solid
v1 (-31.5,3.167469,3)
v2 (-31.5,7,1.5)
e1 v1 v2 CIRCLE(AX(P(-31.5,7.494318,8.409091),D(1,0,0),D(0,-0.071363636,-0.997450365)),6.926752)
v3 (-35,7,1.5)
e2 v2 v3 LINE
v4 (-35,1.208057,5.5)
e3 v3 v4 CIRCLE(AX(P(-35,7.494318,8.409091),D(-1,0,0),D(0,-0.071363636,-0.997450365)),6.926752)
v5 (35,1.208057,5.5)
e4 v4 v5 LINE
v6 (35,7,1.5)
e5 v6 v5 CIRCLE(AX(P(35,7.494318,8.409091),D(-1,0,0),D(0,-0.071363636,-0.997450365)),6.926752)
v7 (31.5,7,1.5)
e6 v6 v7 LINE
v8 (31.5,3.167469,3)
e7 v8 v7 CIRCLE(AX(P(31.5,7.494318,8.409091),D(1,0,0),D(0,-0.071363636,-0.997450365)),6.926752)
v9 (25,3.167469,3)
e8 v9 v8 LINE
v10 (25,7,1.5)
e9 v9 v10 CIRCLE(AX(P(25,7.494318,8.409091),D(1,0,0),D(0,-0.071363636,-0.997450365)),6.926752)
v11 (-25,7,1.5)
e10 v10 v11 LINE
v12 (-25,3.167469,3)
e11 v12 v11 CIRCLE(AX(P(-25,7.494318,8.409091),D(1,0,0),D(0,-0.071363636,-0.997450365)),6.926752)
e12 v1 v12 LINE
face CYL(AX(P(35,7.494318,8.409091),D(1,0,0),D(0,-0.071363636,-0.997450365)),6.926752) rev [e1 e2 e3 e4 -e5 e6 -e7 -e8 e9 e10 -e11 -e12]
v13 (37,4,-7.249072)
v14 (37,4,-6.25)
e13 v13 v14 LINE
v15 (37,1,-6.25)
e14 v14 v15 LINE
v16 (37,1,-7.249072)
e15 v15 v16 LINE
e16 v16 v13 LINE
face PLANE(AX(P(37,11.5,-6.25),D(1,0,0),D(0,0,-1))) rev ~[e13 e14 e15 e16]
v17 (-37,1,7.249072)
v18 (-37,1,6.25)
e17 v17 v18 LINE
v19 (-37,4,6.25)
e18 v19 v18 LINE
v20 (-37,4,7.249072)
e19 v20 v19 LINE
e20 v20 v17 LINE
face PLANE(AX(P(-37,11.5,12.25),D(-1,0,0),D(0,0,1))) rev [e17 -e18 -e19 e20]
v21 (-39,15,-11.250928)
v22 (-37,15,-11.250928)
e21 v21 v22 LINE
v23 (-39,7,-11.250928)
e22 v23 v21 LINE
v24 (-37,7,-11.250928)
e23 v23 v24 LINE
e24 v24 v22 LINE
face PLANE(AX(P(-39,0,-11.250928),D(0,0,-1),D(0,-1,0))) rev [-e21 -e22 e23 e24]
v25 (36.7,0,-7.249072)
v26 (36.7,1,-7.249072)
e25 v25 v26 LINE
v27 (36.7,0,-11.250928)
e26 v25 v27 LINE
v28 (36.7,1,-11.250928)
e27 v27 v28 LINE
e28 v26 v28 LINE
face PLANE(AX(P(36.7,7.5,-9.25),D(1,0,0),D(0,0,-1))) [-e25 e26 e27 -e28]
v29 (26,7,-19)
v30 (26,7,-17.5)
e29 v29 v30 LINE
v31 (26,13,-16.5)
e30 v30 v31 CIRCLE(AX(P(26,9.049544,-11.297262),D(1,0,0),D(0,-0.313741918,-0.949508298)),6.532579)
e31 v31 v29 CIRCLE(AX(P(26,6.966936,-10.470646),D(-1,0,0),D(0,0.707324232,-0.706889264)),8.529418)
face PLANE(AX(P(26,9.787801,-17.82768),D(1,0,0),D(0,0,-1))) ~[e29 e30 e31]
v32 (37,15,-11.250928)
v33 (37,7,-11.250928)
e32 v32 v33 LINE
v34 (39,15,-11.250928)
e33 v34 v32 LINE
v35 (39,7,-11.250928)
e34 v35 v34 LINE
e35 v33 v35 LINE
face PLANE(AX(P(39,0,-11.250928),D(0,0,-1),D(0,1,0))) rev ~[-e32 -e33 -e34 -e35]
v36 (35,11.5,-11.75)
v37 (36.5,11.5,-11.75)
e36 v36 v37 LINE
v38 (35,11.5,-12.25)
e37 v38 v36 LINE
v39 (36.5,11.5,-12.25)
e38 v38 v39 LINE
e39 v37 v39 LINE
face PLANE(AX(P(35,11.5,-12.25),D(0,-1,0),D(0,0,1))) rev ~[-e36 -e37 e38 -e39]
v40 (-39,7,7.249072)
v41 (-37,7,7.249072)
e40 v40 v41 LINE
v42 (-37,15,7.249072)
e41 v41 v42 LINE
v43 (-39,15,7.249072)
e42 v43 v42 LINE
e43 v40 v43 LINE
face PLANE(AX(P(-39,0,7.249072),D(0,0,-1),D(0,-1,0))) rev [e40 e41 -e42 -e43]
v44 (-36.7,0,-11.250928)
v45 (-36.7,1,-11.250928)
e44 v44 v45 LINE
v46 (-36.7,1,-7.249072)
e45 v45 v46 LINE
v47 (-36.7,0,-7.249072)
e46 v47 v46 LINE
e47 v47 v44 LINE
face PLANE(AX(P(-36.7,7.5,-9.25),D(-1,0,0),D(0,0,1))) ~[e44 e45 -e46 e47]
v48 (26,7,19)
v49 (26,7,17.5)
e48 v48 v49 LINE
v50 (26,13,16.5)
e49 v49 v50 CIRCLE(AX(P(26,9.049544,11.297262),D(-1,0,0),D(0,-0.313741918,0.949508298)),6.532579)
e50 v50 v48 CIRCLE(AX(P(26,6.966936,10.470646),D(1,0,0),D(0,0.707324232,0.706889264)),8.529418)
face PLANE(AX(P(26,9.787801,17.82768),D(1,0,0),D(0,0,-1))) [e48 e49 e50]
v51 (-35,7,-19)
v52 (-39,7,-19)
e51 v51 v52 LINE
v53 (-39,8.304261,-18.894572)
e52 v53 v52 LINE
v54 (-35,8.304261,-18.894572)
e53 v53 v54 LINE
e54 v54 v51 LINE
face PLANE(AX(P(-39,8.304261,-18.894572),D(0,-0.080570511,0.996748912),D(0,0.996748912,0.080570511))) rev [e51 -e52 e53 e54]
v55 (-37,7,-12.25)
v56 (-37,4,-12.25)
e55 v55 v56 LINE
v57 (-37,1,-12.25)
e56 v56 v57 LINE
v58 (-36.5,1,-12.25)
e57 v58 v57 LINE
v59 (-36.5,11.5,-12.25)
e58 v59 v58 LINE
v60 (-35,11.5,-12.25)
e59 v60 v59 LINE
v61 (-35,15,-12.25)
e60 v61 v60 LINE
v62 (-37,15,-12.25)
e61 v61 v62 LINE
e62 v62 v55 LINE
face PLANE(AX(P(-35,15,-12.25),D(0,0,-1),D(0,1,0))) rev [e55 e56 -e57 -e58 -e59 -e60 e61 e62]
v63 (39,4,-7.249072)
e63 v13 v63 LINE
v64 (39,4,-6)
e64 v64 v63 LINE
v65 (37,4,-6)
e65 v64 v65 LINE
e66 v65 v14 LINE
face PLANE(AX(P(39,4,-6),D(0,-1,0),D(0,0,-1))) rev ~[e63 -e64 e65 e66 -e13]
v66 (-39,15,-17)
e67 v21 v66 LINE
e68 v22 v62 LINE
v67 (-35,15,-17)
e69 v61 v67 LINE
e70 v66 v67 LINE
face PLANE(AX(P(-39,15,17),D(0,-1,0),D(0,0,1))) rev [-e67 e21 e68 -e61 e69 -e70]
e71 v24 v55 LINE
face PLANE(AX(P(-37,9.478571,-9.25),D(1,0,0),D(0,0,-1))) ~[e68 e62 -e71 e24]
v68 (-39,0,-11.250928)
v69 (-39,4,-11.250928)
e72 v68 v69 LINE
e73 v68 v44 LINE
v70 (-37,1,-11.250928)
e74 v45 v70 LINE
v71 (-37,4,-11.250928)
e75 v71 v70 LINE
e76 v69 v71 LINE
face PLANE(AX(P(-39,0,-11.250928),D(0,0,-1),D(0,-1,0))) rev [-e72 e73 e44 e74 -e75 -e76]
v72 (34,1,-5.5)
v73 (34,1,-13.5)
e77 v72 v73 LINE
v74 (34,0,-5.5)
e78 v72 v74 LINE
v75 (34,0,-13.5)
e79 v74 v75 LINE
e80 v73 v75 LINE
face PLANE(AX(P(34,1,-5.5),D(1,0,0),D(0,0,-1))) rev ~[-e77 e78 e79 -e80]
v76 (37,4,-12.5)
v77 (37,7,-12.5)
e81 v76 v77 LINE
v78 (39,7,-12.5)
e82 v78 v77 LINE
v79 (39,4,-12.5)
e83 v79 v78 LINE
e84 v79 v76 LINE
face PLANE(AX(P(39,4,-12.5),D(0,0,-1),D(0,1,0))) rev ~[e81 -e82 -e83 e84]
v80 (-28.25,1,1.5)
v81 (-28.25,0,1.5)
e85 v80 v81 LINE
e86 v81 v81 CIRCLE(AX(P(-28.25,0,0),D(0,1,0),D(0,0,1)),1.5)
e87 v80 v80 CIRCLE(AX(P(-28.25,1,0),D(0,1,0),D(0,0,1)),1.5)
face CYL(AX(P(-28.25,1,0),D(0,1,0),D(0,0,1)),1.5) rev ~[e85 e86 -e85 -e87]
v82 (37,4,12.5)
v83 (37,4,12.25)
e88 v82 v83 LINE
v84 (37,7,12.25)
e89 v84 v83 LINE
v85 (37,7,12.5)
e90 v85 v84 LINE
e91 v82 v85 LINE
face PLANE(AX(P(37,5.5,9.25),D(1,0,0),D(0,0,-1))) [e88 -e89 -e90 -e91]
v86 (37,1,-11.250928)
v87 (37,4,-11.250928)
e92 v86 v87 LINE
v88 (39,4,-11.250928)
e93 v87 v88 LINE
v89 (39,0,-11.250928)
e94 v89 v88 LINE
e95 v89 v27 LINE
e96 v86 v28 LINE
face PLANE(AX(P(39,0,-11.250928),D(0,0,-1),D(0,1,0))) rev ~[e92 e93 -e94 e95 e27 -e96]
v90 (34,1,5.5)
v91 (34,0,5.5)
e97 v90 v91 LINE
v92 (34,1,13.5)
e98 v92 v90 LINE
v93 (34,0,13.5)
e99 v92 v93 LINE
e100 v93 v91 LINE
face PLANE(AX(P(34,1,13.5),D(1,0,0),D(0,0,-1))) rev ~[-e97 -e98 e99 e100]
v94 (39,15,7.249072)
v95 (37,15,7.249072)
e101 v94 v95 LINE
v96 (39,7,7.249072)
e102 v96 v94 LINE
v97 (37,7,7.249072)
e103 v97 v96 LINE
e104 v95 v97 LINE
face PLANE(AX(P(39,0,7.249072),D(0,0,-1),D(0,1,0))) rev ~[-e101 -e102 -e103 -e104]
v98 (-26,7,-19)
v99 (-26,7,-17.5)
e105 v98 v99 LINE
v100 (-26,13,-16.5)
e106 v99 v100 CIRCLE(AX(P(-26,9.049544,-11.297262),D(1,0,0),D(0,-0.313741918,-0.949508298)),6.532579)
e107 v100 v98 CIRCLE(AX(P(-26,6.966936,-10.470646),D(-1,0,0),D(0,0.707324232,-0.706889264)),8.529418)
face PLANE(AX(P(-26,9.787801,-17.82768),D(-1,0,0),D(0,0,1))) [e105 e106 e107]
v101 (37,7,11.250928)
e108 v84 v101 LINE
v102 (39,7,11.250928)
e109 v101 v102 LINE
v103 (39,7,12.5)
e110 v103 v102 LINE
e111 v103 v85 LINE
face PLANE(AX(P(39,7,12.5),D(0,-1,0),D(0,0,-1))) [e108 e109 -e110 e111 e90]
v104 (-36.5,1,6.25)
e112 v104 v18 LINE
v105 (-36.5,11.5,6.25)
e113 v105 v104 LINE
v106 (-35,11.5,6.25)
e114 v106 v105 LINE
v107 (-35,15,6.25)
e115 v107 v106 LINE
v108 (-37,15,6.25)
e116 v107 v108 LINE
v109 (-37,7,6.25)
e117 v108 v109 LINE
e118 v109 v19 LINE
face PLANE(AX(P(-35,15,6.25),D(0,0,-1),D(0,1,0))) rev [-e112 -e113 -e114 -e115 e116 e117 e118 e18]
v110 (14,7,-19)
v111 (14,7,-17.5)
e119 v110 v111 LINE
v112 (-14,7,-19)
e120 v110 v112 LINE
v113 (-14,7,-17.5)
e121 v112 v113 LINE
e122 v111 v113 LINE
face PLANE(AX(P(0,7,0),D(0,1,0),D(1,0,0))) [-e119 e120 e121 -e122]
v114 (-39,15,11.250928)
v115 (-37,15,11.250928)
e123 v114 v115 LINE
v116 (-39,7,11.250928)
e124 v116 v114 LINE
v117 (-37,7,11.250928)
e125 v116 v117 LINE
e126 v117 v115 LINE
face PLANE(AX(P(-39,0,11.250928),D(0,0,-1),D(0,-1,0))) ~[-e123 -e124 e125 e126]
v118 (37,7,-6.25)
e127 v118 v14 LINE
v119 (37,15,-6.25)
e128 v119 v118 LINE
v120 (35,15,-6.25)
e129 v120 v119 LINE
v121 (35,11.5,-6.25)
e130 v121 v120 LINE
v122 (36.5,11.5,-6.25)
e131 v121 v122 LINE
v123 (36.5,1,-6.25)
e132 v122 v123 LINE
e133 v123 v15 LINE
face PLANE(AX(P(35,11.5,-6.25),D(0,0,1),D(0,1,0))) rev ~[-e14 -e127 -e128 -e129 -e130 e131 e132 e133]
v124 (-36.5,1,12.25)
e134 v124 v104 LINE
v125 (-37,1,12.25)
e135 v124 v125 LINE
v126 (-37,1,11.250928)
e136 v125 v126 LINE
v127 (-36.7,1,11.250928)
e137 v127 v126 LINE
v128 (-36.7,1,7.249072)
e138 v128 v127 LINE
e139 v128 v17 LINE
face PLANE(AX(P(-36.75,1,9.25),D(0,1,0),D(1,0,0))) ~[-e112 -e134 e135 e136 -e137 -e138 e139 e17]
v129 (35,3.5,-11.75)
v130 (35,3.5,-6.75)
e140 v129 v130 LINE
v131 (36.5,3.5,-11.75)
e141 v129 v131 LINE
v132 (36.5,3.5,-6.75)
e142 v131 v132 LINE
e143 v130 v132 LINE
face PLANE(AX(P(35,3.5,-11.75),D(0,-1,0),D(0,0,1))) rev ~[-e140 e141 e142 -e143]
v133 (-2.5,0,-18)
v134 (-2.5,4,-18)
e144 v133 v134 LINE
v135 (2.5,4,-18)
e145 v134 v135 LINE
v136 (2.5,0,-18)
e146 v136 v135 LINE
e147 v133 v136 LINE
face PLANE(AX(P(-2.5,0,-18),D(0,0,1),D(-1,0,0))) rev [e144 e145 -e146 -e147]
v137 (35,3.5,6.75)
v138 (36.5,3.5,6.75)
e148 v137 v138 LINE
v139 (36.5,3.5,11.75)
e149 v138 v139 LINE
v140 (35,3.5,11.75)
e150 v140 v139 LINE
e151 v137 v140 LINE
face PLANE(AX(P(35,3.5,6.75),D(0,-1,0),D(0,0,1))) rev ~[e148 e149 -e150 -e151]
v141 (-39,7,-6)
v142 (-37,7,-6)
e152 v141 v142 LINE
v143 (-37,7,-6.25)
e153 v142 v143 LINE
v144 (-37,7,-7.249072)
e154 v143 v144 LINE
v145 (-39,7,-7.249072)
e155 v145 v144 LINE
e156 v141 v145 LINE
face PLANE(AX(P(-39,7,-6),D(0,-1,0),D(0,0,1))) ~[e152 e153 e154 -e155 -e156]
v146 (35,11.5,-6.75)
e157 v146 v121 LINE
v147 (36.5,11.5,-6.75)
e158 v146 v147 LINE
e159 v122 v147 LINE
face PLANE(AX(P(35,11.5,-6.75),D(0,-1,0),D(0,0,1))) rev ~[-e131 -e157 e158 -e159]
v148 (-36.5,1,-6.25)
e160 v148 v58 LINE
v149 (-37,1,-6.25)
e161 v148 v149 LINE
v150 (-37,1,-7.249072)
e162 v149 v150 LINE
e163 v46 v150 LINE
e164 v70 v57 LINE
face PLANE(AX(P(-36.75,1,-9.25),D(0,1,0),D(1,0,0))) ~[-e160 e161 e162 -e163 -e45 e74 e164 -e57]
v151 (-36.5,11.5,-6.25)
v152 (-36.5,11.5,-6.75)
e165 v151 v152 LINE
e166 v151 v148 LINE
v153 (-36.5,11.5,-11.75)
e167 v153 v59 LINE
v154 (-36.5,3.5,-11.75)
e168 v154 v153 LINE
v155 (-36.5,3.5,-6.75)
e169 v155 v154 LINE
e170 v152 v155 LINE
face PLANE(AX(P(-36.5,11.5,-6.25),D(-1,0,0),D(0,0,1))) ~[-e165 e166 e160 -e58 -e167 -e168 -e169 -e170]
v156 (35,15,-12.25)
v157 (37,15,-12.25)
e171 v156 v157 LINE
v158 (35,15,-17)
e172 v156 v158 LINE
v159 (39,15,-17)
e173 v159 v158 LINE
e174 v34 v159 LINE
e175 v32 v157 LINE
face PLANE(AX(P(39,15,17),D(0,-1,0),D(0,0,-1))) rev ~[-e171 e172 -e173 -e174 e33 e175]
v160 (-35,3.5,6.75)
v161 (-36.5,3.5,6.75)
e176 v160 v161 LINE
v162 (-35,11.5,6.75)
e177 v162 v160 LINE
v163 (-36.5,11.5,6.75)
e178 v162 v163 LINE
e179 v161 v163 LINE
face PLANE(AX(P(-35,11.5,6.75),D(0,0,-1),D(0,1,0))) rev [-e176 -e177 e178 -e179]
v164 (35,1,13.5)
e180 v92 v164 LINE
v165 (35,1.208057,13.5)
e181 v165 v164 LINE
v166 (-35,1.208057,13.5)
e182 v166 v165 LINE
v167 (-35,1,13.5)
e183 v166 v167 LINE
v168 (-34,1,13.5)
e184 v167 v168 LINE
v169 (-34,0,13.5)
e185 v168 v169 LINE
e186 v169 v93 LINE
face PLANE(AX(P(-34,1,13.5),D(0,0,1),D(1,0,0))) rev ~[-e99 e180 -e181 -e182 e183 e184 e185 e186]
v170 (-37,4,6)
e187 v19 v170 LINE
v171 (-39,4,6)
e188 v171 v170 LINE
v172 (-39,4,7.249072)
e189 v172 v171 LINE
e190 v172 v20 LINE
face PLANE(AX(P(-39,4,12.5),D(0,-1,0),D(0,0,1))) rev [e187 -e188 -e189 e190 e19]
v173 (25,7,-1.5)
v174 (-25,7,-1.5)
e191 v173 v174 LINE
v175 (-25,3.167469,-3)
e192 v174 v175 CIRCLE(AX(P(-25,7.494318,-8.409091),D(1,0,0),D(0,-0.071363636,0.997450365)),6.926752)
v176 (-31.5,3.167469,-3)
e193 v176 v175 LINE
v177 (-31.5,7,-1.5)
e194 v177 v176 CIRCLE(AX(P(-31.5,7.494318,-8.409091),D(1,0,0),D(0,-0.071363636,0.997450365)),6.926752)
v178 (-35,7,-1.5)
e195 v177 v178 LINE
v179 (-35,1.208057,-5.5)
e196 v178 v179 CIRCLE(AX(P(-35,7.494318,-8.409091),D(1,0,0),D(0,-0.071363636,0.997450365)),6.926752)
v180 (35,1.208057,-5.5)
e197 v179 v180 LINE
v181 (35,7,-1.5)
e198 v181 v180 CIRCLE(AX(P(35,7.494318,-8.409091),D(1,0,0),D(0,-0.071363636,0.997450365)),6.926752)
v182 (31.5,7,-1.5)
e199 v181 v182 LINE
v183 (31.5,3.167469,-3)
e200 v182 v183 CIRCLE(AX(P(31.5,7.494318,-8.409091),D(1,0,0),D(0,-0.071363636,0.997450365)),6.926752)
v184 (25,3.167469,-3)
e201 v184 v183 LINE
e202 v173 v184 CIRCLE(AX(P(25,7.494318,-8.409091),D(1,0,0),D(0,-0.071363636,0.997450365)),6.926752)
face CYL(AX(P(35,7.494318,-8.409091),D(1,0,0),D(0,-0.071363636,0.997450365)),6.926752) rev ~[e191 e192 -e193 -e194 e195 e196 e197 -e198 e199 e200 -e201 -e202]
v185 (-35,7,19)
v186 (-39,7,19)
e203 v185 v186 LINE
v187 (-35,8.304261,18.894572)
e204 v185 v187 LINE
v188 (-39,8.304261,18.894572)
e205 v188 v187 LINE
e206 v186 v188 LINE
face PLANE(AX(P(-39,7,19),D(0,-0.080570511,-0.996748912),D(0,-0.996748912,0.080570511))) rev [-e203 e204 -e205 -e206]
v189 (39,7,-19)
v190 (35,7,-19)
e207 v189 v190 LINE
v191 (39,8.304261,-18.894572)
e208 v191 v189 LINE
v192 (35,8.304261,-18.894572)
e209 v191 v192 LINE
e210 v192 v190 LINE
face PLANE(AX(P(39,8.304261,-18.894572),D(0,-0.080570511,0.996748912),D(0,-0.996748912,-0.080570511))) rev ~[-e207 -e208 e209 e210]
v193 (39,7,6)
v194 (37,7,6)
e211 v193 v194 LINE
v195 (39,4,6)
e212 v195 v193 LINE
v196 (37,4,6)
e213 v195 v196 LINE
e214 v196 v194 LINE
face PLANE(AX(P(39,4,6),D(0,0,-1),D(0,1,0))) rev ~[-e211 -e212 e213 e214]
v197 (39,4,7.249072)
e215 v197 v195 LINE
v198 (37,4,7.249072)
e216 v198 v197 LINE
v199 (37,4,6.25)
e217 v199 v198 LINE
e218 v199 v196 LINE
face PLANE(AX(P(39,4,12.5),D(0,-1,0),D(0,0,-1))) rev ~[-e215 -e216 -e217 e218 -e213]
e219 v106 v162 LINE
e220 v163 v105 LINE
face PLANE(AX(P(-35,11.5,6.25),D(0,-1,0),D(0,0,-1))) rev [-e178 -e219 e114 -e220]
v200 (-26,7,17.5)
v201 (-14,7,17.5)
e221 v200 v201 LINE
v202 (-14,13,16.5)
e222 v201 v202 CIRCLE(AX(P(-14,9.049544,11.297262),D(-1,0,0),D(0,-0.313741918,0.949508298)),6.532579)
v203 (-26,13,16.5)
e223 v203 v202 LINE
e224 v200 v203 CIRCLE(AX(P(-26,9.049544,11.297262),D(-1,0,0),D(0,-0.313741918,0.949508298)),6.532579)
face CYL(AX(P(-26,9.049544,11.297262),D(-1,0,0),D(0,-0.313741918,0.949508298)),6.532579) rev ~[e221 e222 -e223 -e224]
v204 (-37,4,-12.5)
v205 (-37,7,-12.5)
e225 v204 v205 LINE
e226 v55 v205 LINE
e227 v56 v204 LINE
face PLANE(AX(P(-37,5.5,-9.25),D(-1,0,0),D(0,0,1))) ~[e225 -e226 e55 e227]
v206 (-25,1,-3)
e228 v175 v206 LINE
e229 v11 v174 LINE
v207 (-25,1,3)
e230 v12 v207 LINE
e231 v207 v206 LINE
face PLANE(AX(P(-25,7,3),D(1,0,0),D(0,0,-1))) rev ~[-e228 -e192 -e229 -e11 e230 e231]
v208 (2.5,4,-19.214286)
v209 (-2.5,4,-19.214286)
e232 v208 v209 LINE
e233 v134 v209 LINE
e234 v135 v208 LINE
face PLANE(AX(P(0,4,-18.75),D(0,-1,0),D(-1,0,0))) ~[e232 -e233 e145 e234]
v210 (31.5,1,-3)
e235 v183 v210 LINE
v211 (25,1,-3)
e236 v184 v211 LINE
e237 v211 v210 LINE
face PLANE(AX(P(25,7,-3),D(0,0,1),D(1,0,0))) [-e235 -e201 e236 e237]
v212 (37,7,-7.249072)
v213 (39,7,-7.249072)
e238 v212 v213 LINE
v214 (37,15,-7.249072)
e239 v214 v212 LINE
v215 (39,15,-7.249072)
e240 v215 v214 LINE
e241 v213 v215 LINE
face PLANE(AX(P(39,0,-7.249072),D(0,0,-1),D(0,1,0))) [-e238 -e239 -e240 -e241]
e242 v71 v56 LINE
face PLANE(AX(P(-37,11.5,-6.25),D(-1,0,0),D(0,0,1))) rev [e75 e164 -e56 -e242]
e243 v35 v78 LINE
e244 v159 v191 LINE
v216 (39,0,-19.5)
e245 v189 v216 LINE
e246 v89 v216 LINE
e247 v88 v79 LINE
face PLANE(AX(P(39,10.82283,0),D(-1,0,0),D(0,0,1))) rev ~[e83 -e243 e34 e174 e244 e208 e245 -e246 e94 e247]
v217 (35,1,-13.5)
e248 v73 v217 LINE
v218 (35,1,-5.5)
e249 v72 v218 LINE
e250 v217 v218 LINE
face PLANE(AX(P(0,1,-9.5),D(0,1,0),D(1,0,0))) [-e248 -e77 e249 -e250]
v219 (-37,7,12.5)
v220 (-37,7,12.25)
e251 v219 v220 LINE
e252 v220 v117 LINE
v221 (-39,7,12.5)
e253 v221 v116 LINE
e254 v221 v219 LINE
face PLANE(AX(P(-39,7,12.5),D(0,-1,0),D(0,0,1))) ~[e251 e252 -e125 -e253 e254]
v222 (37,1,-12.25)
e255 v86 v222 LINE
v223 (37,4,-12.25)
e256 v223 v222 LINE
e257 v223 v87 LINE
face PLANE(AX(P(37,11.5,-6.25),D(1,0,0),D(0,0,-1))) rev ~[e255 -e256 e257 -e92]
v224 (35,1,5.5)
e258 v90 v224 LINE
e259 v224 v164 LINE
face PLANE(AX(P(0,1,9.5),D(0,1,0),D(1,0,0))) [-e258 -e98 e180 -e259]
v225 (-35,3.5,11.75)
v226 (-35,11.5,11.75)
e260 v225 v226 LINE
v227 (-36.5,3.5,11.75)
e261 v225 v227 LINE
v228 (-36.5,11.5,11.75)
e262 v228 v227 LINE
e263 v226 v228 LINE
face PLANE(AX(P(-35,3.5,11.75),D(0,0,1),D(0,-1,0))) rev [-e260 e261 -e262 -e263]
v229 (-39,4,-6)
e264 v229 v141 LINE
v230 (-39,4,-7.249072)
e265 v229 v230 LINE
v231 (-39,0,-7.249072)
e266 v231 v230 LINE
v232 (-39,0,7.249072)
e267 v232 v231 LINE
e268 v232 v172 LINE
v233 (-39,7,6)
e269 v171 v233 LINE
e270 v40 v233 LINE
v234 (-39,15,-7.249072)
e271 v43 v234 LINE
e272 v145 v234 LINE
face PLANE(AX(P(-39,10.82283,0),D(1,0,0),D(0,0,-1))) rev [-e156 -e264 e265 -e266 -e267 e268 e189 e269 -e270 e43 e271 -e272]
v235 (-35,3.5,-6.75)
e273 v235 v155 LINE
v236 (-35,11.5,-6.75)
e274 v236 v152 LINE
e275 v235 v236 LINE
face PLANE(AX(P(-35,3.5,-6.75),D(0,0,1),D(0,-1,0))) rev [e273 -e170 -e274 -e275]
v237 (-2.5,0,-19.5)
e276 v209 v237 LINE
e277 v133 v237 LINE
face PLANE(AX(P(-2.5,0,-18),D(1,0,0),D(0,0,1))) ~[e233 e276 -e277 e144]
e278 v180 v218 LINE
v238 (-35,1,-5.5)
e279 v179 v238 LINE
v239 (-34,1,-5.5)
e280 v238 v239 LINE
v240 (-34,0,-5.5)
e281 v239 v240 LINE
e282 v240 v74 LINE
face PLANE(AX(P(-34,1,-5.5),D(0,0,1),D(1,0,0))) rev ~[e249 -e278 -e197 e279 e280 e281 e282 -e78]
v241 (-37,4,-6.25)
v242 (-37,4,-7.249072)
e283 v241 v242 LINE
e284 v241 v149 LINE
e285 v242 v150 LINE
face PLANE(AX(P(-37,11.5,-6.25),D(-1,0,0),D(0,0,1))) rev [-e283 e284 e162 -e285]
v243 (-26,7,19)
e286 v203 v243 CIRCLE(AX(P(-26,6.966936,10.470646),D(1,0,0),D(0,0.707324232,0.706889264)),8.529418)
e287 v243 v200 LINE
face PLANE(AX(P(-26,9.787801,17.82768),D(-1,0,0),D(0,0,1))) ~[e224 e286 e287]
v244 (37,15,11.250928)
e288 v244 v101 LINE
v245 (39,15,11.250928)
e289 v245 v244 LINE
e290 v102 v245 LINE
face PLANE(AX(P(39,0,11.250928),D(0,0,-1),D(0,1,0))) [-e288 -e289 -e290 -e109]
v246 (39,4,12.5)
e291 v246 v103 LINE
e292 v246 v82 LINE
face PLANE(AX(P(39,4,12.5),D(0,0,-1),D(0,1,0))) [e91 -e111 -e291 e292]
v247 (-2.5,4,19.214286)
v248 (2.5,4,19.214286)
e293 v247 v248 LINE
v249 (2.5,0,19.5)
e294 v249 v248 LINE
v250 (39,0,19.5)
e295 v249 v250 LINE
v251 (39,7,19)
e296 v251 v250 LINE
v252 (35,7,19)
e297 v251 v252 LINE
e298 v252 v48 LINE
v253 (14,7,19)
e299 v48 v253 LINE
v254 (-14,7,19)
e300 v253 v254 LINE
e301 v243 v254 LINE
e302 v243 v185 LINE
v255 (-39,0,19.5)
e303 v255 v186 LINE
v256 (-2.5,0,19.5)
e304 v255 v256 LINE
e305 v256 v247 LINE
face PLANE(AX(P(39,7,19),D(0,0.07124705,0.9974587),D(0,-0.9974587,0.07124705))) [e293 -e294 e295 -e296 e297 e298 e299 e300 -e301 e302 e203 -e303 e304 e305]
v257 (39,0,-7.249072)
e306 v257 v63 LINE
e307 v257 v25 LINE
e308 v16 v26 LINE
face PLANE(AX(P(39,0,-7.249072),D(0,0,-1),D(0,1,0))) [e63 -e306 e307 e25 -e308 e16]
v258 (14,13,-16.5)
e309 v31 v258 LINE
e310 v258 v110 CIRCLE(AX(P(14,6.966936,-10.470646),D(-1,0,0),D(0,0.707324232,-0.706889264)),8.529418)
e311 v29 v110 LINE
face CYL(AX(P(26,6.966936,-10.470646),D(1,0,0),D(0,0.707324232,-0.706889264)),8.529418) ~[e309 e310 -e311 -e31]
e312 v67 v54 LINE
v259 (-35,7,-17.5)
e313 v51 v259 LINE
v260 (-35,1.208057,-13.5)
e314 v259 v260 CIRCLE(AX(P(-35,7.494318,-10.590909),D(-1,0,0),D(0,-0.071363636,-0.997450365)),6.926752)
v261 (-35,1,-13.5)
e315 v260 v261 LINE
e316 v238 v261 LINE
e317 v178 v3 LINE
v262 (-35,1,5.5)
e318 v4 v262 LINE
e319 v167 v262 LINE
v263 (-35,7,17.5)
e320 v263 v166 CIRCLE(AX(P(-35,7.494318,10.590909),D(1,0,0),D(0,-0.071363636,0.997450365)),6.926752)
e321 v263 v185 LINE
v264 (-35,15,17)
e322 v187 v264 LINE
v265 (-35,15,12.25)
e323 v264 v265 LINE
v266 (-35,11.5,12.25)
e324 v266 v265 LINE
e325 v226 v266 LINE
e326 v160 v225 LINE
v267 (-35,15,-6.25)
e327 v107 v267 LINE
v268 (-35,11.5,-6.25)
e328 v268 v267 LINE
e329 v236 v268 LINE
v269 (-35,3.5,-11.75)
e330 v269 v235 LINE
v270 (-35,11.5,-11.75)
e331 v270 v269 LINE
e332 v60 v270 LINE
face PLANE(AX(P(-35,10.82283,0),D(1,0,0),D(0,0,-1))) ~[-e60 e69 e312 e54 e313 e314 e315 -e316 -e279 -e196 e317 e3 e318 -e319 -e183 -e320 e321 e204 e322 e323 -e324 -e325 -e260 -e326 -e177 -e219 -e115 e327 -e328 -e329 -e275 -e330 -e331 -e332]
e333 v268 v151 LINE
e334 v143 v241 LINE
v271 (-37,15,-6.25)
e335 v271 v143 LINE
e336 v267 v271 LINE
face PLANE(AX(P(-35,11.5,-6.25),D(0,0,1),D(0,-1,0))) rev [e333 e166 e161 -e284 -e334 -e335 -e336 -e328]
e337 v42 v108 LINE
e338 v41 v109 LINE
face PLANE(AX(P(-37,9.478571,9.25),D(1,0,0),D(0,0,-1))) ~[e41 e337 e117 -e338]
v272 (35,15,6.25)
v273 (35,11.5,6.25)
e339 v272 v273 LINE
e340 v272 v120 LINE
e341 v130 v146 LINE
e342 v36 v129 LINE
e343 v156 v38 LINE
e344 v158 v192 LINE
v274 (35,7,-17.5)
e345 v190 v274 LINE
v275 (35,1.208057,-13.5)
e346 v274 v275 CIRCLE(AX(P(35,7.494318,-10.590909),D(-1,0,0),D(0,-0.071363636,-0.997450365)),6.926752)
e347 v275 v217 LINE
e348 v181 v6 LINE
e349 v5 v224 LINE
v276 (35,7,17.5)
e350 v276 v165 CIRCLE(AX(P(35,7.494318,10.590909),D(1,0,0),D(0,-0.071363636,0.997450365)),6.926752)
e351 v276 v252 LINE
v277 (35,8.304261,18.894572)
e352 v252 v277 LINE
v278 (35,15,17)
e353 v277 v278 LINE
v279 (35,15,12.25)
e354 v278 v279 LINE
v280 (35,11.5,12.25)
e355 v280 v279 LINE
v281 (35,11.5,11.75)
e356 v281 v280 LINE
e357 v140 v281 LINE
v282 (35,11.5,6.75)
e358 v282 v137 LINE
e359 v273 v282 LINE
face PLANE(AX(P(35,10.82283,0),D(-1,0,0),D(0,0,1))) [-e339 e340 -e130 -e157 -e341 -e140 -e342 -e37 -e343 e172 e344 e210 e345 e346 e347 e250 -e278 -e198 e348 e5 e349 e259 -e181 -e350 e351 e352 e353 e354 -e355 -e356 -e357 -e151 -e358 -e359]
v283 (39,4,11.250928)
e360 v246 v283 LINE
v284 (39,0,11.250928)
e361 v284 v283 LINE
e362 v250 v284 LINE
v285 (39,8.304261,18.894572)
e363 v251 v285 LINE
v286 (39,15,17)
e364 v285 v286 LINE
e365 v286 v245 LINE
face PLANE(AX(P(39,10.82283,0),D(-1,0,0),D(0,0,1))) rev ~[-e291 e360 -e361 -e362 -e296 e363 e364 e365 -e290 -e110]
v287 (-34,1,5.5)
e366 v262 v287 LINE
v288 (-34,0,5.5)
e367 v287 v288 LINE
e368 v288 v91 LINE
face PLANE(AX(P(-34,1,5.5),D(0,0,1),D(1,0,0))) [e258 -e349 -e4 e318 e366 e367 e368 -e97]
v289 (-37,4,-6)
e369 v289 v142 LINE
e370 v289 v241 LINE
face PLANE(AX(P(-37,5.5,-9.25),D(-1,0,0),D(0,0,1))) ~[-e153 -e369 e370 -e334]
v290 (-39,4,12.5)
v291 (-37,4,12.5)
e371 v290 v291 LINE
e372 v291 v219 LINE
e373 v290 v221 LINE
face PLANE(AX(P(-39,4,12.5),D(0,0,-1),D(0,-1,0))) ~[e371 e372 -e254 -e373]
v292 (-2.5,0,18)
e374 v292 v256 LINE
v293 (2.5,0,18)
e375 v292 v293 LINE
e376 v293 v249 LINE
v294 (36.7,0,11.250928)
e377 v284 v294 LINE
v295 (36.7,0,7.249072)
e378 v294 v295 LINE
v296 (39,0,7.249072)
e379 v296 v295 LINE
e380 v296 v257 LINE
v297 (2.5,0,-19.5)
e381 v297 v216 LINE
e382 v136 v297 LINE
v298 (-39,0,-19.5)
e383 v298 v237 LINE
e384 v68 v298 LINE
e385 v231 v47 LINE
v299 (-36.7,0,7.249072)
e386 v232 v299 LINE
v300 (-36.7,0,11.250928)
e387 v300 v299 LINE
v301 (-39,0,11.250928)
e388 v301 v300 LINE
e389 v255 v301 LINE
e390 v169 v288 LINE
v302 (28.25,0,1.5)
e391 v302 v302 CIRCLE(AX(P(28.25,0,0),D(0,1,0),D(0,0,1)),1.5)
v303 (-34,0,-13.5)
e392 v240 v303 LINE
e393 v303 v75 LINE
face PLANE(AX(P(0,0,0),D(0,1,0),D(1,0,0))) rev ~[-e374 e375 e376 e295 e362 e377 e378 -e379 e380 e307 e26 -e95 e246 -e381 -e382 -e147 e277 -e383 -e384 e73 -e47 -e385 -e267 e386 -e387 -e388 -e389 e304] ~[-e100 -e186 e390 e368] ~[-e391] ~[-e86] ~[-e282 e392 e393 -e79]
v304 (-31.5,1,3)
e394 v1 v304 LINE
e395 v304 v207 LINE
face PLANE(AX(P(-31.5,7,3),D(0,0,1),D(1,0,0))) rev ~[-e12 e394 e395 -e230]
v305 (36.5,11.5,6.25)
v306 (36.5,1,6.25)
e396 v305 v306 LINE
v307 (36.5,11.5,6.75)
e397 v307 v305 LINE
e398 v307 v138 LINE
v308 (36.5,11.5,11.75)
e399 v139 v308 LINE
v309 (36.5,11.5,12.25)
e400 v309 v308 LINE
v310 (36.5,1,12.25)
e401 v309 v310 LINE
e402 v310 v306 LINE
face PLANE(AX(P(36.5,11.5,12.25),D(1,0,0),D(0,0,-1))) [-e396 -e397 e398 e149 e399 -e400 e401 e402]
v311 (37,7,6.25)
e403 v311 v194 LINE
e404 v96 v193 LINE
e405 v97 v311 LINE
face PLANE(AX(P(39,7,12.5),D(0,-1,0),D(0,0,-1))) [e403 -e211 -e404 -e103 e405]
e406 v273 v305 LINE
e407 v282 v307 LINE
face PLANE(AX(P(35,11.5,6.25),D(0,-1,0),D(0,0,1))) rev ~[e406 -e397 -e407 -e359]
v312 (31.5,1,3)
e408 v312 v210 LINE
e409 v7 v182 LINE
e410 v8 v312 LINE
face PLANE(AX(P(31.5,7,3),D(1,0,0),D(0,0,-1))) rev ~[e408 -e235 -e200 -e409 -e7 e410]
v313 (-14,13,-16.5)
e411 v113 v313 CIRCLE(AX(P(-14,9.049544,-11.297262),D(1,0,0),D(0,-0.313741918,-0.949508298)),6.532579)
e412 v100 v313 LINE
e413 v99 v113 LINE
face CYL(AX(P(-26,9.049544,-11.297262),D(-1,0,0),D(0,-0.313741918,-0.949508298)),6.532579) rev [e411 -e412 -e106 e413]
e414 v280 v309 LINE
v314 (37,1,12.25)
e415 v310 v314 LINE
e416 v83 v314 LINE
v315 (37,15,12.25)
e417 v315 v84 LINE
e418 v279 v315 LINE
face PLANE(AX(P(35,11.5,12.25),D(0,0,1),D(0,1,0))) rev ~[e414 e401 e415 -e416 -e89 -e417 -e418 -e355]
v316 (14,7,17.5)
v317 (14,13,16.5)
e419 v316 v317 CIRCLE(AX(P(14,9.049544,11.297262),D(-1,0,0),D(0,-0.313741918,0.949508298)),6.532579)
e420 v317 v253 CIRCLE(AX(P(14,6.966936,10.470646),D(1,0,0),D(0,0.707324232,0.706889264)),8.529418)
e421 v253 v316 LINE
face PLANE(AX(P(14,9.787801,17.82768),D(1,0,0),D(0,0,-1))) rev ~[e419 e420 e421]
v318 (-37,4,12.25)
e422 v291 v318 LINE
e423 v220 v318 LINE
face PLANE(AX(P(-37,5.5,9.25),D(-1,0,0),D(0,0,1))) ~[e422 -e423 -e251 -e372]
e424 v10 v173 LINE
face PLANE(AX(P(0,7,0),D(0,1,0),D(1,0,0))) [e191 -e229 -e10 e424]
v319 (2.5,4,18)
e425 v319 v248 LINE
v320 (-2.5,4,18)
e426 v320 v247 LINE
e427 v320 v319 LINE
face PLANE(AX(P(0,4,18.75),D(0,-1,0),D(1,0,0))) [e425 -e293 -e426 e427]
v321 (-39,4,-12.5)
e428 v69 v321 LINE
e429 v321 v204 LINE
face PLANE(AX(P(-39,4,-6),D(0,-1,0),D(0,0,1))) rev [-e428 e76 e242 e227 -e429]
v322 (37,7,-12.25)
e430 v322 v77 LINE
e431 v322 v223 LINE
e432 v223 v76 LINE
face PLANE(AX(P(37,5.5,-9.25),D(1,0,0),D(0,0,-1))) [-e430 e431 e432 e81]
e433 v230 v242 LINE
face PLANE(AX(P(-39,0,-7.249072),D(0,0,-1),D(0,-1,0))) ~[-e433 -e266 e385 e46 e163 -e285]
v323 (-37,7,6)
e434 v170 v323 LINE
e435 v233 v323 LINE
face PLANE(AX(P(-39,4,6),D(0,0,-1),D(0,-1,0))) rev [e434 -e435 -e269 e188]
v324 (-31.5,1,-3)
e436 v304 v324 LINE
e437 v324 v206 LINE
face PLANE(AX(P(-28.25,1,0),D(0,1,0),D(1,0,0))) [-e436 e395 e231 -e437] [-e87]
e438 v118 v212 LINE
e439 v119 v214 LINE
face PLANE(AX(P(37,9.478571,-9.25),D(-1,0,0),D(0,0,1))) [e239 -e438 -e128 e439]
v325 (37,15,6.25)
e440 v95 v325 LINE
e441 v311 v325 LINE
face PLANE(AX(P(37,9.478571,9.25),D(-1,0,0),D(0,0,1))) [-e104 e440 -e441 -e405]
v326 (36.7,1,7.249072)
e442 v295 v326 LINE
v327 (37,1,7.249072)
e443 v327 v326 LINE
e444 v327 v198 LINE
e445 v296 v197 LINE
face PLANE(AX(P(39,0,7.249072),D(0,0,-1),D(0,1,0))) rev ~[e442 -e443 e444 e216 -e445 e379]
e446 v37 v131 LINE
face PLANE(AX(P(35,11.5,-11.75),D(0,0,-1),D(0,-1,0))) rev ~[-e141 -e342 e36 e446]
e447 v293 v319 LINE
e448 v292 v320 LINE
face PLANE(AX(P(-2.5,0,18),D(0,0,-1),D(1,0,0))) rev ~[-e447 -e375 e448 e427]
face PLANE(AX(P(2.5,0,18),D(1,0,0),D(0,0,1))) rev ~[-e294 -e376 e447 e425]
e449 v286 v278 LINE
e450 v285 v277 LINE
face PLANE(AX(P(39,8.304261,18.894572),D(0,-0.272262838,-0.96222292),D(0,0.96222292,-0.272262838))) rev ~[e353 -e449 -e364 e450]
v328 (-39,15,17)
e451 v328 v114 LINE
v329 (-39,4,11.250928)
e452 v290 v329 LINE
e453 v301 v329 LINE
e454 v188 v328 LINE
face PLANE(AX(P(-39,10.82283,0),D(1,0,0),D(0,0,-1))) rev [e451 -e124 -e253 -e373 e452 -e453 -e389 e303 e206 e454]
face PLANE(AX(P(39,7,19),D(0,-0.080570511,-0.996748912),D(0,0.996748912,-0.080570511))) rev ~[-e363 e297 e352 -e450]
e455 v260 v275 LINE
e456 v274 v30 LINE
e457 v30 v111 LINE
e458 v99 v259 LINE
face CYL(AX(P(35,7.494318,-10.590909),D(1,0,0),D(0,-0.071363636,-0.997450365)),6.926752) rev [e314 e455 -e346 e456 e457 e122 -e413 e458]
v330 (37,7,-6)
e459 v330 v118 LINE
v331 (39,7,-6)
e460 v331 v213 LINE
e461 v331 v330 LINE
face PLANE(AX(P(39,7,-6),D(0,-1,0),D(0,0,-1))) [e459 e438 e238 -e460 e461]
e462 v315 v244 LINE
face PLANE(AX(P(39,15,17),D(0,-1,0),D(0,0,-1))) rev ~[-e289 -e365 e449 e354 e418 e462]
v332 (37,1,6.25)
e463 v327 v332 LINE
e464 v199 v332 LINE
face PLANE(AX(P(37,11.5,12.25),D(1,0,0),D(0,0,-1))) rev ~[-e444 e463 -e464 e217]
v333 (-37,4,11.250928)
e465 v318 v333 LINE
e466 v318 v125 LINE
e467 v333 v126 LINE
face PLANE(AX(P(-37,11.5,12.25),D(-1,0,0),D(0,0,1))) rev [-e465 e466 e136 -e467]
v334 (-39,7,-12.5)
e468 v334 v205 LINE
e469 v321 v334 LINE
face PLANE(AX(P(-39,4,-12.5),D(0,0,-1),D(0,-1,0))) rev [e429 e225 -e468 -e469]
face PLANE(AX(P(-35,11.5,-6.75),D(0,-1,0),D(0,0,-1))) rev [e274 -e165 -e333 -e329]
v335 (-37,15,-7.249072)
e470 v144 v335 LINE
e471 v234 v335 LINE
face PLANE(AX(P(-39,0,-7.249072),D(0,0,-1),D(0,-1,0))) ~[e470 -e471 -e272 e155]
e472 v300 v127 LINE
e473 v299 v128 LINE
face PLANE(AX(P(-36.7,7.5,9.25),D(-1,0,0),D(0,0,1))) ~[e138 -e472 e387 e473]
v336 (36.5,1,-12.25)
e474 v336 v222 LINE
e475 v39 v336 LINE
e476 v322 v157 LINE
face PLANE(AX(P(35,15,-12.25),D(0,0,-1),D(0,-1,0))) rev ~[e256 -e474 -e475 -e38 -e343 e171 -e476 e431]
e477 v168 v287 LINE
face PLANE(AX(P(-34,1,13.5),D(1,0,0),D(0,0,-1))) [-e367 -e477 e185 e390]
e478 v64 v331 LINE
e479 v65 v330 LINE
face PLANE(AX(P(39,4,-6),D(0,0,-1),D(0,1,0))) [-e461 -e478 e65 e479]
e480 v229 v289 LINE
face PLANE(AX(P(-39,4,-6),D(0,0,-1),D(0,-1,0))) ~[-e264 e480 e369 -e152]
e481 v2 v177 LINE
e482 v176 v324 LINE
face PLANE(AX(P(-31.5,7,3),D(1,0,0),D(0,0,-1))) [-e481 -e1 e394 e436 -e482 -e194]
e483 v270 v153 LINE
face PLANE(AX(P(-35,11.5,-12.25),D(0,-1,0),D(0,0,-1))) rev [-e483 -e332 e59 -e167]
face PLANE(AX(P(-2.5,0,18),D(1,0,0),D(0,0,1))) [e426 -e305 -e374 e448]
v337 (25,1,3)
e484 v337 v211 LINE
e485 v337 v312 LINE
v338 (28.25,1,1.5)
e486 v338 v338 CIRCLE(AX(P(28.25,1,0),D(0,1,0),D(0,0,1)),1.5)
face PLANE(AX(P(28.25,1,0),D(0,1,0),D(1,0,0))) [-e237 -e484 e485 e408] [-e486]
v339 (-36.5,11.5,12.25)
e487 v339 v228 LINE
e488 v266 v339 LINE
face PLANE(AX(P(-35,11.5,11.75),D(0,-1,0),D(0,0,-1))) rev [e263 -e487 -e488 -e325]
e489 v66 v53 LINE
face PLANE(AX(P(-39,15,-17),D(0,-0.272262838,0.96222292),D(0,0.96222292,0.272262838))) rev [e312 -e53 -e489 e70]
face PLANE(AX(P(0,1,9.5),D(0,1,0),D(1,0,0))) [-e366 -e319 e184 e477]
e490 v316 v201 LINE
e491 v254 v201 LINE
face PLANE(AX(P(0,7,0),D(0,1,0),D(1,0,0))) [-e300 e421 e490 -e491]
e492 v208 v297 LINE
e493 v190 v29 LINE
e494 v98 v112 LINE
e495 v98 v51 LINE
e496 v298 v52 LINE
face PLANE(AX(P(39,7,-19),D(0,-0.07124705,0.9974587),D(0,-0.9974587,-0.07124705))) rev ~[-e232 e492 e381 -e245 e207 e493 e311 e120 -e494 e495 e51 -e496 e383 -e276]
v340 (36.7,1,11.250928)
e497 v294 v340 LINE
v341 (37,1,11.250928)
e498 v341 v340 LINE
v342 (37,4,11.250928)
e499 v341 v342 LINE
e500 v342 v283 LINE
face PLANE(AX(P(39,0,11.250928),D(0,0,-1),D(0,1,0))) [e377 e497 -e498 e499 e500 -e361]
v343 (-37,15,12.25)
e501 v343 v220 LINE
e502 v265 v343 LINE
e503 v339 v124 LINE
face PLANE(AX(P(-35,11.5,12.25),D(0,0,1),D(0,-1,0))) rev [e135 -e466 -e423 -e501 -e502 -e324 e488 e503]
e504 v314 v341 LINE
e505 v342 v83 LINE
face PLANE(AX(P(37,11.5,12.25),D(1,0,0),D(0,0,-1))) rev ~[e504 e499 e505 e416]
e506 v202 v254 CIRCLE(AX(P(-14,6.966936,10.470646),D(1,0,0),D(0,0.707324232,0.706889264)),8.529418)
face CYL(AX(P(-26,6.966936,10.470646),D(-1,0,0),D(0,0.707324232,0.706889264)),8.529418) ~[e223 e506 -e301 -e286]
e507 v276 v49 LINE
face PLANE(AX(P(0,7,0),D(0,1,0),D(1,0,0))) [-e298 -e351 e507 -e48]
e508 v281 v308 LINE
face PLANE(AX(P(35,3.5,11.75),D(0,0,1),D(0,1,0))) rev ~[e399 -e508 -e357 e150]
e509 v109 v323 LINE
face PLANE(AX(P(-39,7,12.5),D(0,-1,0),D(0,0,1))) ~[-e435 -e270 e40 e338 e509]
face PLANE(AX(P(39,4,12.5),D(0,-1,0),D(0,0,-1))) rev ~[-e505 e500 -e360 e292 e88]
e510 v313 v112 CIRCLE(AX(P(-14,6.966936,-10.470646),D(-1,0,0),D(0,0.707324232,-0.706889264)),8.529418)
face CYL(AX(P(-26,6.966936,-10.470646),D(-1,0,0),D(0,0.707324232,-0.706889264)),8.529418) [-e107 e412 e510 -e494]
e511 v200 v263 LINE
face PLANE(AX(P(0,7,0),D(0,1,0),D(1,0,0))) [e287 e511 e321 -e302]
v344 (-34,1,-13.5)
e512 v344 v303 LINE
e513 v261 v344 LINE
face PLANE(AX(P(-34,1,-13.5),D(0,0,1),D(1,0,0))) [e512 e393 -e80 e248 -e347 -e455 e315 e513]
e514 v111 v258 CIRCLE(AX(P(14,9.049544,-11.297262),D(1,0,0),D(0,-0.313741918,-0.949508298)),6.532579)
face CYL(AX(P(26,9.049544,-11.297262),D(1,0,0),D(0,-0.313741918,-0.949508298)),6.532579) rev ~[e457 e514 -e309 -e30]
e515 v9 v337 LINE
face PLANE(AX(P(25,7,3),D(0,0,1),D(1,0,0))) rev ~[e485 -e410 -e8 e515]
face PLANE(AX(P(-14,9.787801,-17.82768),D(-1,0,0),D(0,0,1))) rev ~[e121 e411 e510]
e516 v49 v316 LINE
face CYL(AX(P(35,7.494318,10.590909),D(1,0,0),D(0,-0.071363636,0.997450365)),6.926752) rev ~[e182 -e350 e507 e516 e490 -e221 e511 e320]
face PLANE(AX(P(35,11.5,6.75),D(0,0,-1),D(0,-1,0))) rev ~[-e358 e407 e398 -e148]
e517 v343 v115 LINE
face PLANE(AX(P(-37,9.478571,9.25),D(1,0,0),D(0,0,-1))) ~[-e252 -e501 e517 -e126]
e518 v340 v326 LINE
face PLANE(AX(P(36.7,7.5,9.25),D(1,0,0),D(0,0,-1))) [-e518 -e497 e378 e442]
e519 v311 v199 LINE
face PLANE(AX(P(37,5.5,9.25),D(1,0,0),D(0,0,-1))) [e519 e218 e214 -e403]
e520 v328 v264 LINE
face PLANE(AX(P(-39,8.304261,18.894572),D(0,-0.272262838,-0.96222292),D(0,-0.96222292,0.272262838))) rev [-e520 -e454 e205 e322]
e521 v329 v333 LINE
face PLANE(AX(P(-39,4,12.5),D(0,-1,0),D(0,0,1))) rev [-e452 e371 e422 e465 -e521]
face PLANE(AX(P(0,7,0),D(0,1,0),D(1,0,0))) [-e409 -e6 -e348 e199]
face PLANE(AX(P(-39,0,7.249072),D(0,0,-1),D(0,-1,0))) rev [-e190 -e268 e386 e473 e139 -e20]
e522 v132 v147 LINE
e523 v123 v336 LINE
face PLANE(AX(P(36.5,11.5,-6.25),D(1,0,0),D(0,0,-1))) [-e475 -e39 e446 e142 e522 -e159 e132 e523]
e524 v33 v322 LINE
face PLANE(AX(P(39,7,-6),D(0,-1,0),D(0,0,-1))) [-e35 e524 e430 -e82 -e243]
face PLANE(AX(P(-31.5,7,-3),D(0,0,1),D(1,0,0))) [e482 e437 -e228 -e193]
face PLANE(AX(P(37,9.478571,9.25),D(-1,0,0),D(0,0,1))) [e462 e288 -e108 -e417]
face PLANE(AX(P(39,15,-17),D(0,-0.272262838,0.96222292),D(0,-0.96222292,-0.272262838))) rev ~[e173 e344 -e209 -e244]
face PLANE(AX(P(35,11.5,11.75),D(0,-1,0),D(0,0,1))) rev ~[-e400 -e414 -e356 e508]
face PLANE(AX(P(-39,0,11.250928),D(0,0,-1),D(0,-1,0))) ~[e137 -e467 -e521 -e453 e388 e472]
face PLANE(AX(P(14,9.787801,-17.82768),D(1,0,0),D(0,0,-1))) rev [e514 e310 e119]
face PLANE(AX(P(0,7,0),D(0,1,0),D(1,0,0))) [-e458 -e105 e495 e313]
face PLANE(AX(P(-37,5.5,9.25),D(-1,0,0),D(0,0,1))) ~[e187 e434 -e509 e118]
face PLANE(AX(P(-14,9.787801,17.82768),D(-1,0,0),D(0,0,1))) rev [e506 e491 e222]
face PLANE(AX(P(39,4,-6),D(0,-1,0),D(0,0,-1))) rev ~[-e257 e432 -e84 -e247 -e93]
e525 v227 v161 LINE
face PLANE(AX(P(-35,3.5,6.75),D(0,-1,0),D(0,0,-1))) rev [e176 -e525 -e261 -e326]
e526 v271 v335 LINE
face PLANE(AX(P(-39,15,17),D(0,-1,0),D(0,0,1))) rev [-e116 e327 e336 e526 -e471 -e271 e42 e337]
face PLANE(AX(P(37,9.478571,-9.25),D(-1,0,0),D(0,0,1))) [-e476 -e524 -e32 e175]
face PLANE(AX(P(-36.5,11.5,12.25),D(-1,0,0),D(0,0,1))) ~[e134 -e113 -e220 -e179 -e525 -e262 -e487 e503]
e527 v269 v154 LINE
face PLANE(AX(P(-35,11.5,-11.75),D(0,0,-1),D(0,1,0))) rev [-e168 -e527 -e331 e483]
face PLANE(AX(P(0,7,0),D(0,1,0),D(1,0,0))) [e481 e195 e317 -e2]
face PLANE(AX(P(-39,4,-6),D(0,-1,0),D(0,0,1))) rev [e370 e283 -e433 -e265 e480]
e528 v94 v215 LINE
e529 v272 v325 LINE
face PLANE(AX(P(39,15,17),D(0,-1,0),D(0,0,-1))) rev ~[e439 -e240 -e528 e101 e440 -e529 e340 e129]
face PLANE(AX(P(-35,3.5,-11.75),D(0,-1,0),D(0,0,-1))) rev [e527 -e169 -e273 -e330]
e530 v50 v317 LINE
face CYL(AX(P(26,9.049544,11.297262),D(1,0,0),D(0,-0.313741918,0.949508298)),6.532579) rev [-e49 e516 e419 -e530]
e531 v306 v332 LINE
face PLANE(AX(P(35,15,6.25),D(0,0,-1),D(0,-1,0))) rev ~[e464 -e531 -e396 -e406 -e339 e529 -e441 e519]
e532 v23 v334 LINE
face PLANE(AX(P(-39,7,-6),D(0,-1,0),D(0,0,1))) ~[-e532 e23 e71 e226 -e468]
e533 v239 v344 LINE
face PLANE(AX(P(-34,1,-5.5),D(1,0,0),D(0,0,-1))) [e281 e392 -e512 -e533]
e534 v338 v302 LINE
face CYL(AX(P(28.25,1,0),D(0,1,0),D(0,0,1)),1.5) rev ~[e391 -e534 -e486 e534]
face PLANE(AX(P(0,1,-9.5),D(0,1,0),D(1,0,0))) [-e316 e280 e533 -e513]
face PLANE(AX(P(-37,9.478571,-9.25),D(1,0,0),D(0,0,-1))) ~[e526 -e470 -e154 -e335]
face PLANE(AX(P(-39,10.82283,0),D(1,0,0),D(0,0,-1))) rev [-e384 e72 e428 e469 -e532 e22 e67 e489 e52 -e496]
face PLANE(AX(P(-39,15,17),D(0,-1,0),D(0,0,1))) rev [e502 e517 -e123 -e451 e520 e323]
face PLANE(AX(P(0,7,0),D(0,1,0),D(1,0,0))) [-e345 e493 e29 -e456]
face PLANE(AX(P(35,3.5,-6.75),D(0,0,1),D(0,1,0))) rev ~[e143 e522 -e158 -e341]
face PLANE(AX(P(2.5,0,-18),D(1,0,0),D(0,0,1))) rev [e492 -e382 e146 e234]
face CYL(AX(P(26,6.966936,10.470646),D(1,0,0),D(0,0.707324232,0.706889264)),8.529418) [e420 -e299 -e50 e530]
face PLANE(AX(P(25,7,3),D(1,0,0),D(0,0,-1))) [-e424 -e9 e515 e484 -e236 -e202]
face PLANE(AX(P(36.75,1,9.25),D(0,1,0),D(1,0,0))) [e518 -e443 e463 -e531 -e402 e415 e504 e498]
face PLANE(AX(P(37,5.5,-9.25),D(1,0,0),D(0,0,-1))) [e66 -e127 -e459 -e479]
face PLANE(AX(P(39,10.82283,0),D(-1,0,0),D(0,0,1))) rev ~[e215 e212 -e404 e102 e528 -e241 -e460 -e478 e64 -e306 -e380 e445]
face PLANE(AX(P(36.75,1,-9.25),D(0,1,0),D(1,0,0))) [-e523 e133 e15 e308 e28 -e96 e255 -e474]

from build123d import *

# Parameters (mm, degrees)
SKETCH1_W            = 78
SKETCH1_H            = 39
BOSS_EXTRUDE1_DEPTH  = 7
CUT_EXTRUDE1_DEPTH   = 81.704708661
SKETCH3_W            = 70
SKETCH3_H            = 8
CUT_EXTRUDE2_DEPTH   = 6
CUT_EXTRUDE3_DEPTH   = 70
MIRROR9_COPY_1_DEPTH = 70
MIRROR9_COPY_2_DEPTH = 70
SKETCH5_W            = 68
SKETCH5_H            = 8
CUT_EXTRUDE4_DEPTH   = 45.014202253
BOSS_EXTRUDE2_DEPTH  = 12
MIRROR3_COPY_1_DEPTH = 12
BOSS_EXTRUDE3_DEPTH  = 4
SKETCH9_W            = 6.5
SKETCH9_H            = 3
CUT_EXTRUDE5_DEPTH   = 2
CUT_EXTRUDE6_DEPTH   = 2
SKETCH12_W           = 0.5
SKETCH12_H           = 6
CUT_EXTRUDE11_DEPTH  = 10.5
SKETCH13_W           = 4.001855858
SKETCH13_H           = 15
CUT_EXTRUDE9_DEPTH   = 2.3
SKETCH14_W           = 5
SKETCH14_H           = 1.5
CUT_EXTRUDE10_DEPTH  = 4
SKETCH15_W           = 6.5
SKETCH15_H           = 6
CUT_EXTRUDE12_DEPTH  = 6
CUT_EXTRUDE13_REACH  = 47.796
SKETCH16_R           = 1.5


with BuildPart() as part:
    # Sketch1 → Boss-Extrude1 (new body)
    with BuildSketch(Plane(origin=(0, 0, 0), x_dir=(1, 0, 0), z_dir=(0, 1, 0))):
        Rectangle(SKETCH1_W, SKETCH1_H)
    extrude(amount=BOSS_EXTRUDE1_DEPTH)

    # Sketch2 → Cut-Extrude1 (cut, through all)
    with BuildSketch(Plane(origin=(39, 0, 0), x_dir=(0, 0, -1), z_dir=(1, 0, 0))):
        Polygon((19, 7), (19.5, 0), (19.5, 7), align=None)
        Polygon((-19, 7), (-19.5, 0), (-19.5, 7), align=None)
    extrude(amount=-CUT_EXTRUDE1_DEPTH, mode=Mode.SUBTRACT)

    # Sketch3 → Cut-Extrude2 (cut)
    with BuildSketch(Plane(origin=(0, 7, 0), x_dir=(1, 0, 0), z_dir=(0, 1, 0))):
        with Locations((0, -9.5)):
            Rectangle(SKETCH3_W, SKETCH3_H)
        with Locations((0, 9.5)):
            Rectangle(SKETCH3_W, SKETCH3_H)
    extrude(amount=-CUT_EXTRUDE2_DEPTH, mode=Mode.SUBTRACT)

    # Sketch4 → Cut-Extrude3 (cut)
    with BuildSketch(Plane(origin=(35, 0, 0), x_dir=(0, 0, -1), z_dir=(1, 0, 0))):
        with BuildLine():
            Line((13, 1), (13, 7))
            Line((13, 7), (17.5, 7))
            ThreePointArc((17.5, 7), (16.132310367, 3.338267225), (13, 1))
        make_face()
    cut_extrude3 = extrude(amount=-CUT_EXTRUDE3_DEPTH, mode=Mode.SUBTRACT)

    # Mirror1: Cut-Extrude3 across plane
    add(cut_extrude3.mirror(Plane.XY), mode=Mode.SUBTRACT)

    # Mirror8: Cut-Extrude3 across plane
    add(cut_extrude3.mirror(Plane.XY.offset(-9.5)), mode=Mode.SUBTRACT)

    # Mirror9 copy 1 sketch → Mirror9 copy 1 (cut)
    with BuildSketch(Plane(origin=(35, 0, 19), x_dir=(0, 0, -1), z_dir=(1, 0, 0))):
        with BuildLine():
            Line((13, 1), (13, 7))
            Line((13, 7), (17.5, 7))
            ThreePointArc((17.5, 7), (16.132310367, 3.338267225), (13, 1))
        make_face()
    extrude(amount=-MIRROR9_COPY_1_DEPTH, mode=Mode.SUBTRACT)

    # Mirror9 copy 2 sketch → Mirror9 copy 2 (cut)
    with BuildSketch(Plane(origin=(35, 0, 19), x_dir=(0, 0, 1), z_dir=(1, 0, 0))):
        with BuildLine():
            Line((13, -1), (13, -7))
            Line((13, -7), (17.5, -7))
            ThreePointArc((17.5, -7), (16.132310367, -3.338267225), (13, -1))
        make_face()
    extrude(amount=-MIRROR9_COPY_2_DEPTH, mode=Mode.SUBTRACT)

    # Sketch5 → Cut-Extrude4 (cut, through all)
    with BuildSketch(Plane(origin=(0, 1, 0), x_dir=(1, 0, 0), z_dir=(0, 1, 0))):
        with Locations((0, 9.5)):
            Rectangle(SKETCH5_W, SKETCH5_H)
        with Locations((0, -9.5)):
            Rectangle(SKETCH5_W, SKETCH5_H)
    extrude(amount=-CUT_EXTRUDE4_DEPTH, mode=Mode.SUBTRACT)

    # Sketch6 → Boss-Extrude2 (add)
    with BuildSketch(Plane(origin=(26, 0, 0), x_dir=(0, 0, -1), z_dir=(1, 0, 0))):
        with BuildLine():
            Line((-19, 7), (-17.5, 7))
            ThreePointArc((-17.5, 7), (-17.740958247, 10.123493041), (-16.5, 13))
            ThreePointArc((-16.5, 13), (-18.343954985, 10.247481244), (-19, 7))
        make_face()
    boss_extrude2 = extrude(amount=-BOSS_EXTRUDE2_DEPTH)

    # Mirror2: Boss-Extrude2 across plane
    add(boss_extrude2.mirror(Plane(origin=(0, 0, 0), x_dir=(0, 0, 1), z_dir=(1, 0, 0))))

    # Mirror3: Boss-Extrude2 across plane
    add(boss_extrude2.mirror(Plane.XY))

    # Mirror3 copy 1 sketch → Mirror3 copy 1 (add)
    with BuildSketch(Plane.ZY.offset(26)):
        with BuildLine():
            Line((-19, 7), (-17.5, 7))
            ThreePointArc((-17.5, 7), (-17.740958247, 10.123493041), (-16.5, 13))
            ThreePointArc((-16.5, 13), (-18.343954985, 10.247481244), (-19, 7))
        make_face()
    extrude(amount=-MIRROR3_COPY_1_DEPTH)

    # Sketch8 → Boss-Extrude3 (add)
    with BuildSketch(Plane(origin=(39, 0, 0), x_dir=(0, 0, -1), z_dir=(1, 0, 0))):
        Polygon((-17, 15), (17, 15), (18.894572253, 8.304261216), (19, 7), (-19, 7), (-18.894572253, 8.304261216), align=None)
    boss_extrude3 = extrude(amount=-BOSS_EXTRUDE3_DEPTH)

    # Mirror4: Boss-Extrude3 across plane
    add(boss_extrude3.mirror(Plane(origin=(0, 0, 0), x_dir=(0, 0, 1), z_dir=(1, 0, 0))))

    # Sketch9 → Cut-Extrude5 (cut)
    with BuildSketch(Plane(origin=(39, 0, 0), x_dir=(0, 0, -1), z_dir=(1, 0, 0))):
        with Locations((9.25, 5.5)):
            Rectangle(SKETCH9_W, SKETCH9_H)
        with Locations((-9.25, 5.5)):
            Rectangle(SKETCH9_W, SKETCH9_H)
    cut_extrude5 = extrude(amount=-CUT_EXTRUDE5_DEPTH, mode=Mode.SUBTRACT)

    # Mirror5: Cut-Extrude5 across plane
    add(cut_extrude5.mirror(Plane(origin=(0, 0, 0), x_dir=(0, 0, 1), z_dir=(1, 0, 0))), mode=Mode.SUBTRACT)

    # Sketch11 → Cut-Extrude6 (cut)
    with BuildSketch(Plane.ZY.offset(-35)):
        Polygon((6.75, 3.5), (11.75, 3.5), (11.75, 11.5), (12.25, 11.5), (12.25, 15), (6.25, 15), (6.25, 11.5), (6.75, 11.5), align=None)
        Polygon((-6.75, 11.5), (-6.25, 11.5), (-6.25, 15), (-12.25, 15), (-12.25, 11.5), (-11.75, 11.5), (-11.75, 3.5), (-6.75, 3.5), align=None)
    cut_extrude6 = extrude(amount=-CUT_EXTRUDE6_DEPTH, mode=Mode.SUBTRACT)

    # Sketch12 → Cut-Extrude11 (cut)
    with BuildSketch(Plane(origin=(0, 11.5, 0), x_dir=(1, 0, 0), z_dir=(0, 1, 0))):
        with Locations((36.75, 9.25)):
            Rectangle(SKETCH12_W, SKETCH12_H)
        with Locations((36.75, -9.25)):
            Rectangle(SKETCH12_W, SKETCH12_H)
    cut_extrude11 = extrude(amount=-CUT_EXTRUDE11_DEPTH, mode=Mode.SUBTRACT)

    # Sketch13 → Cut-Extrude9 (cut)
    with BuildSketch(Plane(origin=(39, 0, 0), x_dir=(0, 0, -1), z_dir=(1, 0, 0))):
        with Locations((9.25, 7.5)):
            Rectangle(SKETCH13_W, SKETCH13_H)
        with Locations((-9.25, 7.5)):
            Rectangle(SKETCH13_W, SKETCH13_H)
    cut_extrude9 = extrude(amount=-CUT_EXTRUDE9_DEPTH, mode=Mode.SUBTRACT)

    # Mirror10: Cut-Extrude6, Cut-Extrude11, Cut-Extrude9 across plane
    add(cut_extrude6.mirror(Plane(origin=(0, 0, 0), x_dir=(0, 0, 1), z_dir=(1, 0, 0))), mode=Mode.SUBTRACT)
    add(cut_extrude11.mirror(Plane(origin=(0, 0, 0), x_dir=(0, 0, 1), z_dir=(1, 0, 0))), mode=Mode.SUBTRACT)
    add(cut_extrude9.mirror(Plane(origin=(0, 0, 0), x_dir=(0, 0, 1), z_dir=(1, 0, 0))), mode=Mode.SUBTRACT)

    # Sketch14 → Cut-Extrude10 (cut)
    with BuildSketch(Plane.XZ):
        with Locations((0, 18.75)):
            Rectangle(SKETCH14_W, SKETCH14_H)
    cut_extrude10 = extrude(amount=-CUT_EXTRUDE10_DEPTH, mode=Mode.SUBTRACT)

    # Mirror7: Cut-Extrude10 across plane
    add(cut_extrude10.mirror(Plane.XY), mode=Mode.SUBTRACT)

    # Sketch15 → Cut-Extrude12 (cut)
    with BuildSketch(Plane(origin=(0, 7, 0), x_dir=(1, 0, 0), z_dir=(0, 1, 0))):
        with Locations((-28.25, 0)):
            Rectangle(SKETCH15_W, SKETCH15_H)
        with Locations((28.25, 0)):
            Rectangle(SKETCH15_W, SKETCH15_H)
    extrude(amount=-CUT_EXTRUDE12_DEPTH, mode=Mode.SUBTRACT)

    # Sketch16 → Cut-Extrude13 (cut, up to next)
    with BuildSketch(Plane(origin=(0, 1, 0), x_dir=(1, 0, 0), z_dir=(0, 1, 0)), mode=Mode.PRIVATE) as cut_extrude13_sk1:
        with Locations(Location((-28.25, 0, 0), (0, 0, 270))):
            Circle(SKETCH16_R)
    cut_extrude13_tool1 = extrude(cut_extrude13_sk1.sketch, amount=-CUT_EXTRUDE13_REACH, mode=Mode.PRIVATE) & part.part
    # Sketch16 → Cut-Extrude13 (cut, up to next)
    with BuildSketch(Plane(origin=(0, 1, 0), x_dir=(1, 0, 0), z_dir=(0, 1, 0)), mode=Mode.PRIVATE) as cut_extrude13_sk2:
        with Locations(Location((28.25, 0, 0), (0, 0, 270))):
            Circle(SKETCH16_R)
    cut_extrude13_tool2 = extrude(cut_extrude13_sk2.sketch, amount=-CUT_EXTRUDE13_REACH, mode=Mode.PRIVATE) & part.part
    add(cut_extrude13_tool1.solids().sort_by_distance((-28.25, 1, 0))[0], mode=Mode.SUBTRACT)
    add(cut_extrude13_tool2.solids().sort_by_distance((28.25, 1, 0))[0], mode=Mode.SUBTRACT)


solid = part.part
